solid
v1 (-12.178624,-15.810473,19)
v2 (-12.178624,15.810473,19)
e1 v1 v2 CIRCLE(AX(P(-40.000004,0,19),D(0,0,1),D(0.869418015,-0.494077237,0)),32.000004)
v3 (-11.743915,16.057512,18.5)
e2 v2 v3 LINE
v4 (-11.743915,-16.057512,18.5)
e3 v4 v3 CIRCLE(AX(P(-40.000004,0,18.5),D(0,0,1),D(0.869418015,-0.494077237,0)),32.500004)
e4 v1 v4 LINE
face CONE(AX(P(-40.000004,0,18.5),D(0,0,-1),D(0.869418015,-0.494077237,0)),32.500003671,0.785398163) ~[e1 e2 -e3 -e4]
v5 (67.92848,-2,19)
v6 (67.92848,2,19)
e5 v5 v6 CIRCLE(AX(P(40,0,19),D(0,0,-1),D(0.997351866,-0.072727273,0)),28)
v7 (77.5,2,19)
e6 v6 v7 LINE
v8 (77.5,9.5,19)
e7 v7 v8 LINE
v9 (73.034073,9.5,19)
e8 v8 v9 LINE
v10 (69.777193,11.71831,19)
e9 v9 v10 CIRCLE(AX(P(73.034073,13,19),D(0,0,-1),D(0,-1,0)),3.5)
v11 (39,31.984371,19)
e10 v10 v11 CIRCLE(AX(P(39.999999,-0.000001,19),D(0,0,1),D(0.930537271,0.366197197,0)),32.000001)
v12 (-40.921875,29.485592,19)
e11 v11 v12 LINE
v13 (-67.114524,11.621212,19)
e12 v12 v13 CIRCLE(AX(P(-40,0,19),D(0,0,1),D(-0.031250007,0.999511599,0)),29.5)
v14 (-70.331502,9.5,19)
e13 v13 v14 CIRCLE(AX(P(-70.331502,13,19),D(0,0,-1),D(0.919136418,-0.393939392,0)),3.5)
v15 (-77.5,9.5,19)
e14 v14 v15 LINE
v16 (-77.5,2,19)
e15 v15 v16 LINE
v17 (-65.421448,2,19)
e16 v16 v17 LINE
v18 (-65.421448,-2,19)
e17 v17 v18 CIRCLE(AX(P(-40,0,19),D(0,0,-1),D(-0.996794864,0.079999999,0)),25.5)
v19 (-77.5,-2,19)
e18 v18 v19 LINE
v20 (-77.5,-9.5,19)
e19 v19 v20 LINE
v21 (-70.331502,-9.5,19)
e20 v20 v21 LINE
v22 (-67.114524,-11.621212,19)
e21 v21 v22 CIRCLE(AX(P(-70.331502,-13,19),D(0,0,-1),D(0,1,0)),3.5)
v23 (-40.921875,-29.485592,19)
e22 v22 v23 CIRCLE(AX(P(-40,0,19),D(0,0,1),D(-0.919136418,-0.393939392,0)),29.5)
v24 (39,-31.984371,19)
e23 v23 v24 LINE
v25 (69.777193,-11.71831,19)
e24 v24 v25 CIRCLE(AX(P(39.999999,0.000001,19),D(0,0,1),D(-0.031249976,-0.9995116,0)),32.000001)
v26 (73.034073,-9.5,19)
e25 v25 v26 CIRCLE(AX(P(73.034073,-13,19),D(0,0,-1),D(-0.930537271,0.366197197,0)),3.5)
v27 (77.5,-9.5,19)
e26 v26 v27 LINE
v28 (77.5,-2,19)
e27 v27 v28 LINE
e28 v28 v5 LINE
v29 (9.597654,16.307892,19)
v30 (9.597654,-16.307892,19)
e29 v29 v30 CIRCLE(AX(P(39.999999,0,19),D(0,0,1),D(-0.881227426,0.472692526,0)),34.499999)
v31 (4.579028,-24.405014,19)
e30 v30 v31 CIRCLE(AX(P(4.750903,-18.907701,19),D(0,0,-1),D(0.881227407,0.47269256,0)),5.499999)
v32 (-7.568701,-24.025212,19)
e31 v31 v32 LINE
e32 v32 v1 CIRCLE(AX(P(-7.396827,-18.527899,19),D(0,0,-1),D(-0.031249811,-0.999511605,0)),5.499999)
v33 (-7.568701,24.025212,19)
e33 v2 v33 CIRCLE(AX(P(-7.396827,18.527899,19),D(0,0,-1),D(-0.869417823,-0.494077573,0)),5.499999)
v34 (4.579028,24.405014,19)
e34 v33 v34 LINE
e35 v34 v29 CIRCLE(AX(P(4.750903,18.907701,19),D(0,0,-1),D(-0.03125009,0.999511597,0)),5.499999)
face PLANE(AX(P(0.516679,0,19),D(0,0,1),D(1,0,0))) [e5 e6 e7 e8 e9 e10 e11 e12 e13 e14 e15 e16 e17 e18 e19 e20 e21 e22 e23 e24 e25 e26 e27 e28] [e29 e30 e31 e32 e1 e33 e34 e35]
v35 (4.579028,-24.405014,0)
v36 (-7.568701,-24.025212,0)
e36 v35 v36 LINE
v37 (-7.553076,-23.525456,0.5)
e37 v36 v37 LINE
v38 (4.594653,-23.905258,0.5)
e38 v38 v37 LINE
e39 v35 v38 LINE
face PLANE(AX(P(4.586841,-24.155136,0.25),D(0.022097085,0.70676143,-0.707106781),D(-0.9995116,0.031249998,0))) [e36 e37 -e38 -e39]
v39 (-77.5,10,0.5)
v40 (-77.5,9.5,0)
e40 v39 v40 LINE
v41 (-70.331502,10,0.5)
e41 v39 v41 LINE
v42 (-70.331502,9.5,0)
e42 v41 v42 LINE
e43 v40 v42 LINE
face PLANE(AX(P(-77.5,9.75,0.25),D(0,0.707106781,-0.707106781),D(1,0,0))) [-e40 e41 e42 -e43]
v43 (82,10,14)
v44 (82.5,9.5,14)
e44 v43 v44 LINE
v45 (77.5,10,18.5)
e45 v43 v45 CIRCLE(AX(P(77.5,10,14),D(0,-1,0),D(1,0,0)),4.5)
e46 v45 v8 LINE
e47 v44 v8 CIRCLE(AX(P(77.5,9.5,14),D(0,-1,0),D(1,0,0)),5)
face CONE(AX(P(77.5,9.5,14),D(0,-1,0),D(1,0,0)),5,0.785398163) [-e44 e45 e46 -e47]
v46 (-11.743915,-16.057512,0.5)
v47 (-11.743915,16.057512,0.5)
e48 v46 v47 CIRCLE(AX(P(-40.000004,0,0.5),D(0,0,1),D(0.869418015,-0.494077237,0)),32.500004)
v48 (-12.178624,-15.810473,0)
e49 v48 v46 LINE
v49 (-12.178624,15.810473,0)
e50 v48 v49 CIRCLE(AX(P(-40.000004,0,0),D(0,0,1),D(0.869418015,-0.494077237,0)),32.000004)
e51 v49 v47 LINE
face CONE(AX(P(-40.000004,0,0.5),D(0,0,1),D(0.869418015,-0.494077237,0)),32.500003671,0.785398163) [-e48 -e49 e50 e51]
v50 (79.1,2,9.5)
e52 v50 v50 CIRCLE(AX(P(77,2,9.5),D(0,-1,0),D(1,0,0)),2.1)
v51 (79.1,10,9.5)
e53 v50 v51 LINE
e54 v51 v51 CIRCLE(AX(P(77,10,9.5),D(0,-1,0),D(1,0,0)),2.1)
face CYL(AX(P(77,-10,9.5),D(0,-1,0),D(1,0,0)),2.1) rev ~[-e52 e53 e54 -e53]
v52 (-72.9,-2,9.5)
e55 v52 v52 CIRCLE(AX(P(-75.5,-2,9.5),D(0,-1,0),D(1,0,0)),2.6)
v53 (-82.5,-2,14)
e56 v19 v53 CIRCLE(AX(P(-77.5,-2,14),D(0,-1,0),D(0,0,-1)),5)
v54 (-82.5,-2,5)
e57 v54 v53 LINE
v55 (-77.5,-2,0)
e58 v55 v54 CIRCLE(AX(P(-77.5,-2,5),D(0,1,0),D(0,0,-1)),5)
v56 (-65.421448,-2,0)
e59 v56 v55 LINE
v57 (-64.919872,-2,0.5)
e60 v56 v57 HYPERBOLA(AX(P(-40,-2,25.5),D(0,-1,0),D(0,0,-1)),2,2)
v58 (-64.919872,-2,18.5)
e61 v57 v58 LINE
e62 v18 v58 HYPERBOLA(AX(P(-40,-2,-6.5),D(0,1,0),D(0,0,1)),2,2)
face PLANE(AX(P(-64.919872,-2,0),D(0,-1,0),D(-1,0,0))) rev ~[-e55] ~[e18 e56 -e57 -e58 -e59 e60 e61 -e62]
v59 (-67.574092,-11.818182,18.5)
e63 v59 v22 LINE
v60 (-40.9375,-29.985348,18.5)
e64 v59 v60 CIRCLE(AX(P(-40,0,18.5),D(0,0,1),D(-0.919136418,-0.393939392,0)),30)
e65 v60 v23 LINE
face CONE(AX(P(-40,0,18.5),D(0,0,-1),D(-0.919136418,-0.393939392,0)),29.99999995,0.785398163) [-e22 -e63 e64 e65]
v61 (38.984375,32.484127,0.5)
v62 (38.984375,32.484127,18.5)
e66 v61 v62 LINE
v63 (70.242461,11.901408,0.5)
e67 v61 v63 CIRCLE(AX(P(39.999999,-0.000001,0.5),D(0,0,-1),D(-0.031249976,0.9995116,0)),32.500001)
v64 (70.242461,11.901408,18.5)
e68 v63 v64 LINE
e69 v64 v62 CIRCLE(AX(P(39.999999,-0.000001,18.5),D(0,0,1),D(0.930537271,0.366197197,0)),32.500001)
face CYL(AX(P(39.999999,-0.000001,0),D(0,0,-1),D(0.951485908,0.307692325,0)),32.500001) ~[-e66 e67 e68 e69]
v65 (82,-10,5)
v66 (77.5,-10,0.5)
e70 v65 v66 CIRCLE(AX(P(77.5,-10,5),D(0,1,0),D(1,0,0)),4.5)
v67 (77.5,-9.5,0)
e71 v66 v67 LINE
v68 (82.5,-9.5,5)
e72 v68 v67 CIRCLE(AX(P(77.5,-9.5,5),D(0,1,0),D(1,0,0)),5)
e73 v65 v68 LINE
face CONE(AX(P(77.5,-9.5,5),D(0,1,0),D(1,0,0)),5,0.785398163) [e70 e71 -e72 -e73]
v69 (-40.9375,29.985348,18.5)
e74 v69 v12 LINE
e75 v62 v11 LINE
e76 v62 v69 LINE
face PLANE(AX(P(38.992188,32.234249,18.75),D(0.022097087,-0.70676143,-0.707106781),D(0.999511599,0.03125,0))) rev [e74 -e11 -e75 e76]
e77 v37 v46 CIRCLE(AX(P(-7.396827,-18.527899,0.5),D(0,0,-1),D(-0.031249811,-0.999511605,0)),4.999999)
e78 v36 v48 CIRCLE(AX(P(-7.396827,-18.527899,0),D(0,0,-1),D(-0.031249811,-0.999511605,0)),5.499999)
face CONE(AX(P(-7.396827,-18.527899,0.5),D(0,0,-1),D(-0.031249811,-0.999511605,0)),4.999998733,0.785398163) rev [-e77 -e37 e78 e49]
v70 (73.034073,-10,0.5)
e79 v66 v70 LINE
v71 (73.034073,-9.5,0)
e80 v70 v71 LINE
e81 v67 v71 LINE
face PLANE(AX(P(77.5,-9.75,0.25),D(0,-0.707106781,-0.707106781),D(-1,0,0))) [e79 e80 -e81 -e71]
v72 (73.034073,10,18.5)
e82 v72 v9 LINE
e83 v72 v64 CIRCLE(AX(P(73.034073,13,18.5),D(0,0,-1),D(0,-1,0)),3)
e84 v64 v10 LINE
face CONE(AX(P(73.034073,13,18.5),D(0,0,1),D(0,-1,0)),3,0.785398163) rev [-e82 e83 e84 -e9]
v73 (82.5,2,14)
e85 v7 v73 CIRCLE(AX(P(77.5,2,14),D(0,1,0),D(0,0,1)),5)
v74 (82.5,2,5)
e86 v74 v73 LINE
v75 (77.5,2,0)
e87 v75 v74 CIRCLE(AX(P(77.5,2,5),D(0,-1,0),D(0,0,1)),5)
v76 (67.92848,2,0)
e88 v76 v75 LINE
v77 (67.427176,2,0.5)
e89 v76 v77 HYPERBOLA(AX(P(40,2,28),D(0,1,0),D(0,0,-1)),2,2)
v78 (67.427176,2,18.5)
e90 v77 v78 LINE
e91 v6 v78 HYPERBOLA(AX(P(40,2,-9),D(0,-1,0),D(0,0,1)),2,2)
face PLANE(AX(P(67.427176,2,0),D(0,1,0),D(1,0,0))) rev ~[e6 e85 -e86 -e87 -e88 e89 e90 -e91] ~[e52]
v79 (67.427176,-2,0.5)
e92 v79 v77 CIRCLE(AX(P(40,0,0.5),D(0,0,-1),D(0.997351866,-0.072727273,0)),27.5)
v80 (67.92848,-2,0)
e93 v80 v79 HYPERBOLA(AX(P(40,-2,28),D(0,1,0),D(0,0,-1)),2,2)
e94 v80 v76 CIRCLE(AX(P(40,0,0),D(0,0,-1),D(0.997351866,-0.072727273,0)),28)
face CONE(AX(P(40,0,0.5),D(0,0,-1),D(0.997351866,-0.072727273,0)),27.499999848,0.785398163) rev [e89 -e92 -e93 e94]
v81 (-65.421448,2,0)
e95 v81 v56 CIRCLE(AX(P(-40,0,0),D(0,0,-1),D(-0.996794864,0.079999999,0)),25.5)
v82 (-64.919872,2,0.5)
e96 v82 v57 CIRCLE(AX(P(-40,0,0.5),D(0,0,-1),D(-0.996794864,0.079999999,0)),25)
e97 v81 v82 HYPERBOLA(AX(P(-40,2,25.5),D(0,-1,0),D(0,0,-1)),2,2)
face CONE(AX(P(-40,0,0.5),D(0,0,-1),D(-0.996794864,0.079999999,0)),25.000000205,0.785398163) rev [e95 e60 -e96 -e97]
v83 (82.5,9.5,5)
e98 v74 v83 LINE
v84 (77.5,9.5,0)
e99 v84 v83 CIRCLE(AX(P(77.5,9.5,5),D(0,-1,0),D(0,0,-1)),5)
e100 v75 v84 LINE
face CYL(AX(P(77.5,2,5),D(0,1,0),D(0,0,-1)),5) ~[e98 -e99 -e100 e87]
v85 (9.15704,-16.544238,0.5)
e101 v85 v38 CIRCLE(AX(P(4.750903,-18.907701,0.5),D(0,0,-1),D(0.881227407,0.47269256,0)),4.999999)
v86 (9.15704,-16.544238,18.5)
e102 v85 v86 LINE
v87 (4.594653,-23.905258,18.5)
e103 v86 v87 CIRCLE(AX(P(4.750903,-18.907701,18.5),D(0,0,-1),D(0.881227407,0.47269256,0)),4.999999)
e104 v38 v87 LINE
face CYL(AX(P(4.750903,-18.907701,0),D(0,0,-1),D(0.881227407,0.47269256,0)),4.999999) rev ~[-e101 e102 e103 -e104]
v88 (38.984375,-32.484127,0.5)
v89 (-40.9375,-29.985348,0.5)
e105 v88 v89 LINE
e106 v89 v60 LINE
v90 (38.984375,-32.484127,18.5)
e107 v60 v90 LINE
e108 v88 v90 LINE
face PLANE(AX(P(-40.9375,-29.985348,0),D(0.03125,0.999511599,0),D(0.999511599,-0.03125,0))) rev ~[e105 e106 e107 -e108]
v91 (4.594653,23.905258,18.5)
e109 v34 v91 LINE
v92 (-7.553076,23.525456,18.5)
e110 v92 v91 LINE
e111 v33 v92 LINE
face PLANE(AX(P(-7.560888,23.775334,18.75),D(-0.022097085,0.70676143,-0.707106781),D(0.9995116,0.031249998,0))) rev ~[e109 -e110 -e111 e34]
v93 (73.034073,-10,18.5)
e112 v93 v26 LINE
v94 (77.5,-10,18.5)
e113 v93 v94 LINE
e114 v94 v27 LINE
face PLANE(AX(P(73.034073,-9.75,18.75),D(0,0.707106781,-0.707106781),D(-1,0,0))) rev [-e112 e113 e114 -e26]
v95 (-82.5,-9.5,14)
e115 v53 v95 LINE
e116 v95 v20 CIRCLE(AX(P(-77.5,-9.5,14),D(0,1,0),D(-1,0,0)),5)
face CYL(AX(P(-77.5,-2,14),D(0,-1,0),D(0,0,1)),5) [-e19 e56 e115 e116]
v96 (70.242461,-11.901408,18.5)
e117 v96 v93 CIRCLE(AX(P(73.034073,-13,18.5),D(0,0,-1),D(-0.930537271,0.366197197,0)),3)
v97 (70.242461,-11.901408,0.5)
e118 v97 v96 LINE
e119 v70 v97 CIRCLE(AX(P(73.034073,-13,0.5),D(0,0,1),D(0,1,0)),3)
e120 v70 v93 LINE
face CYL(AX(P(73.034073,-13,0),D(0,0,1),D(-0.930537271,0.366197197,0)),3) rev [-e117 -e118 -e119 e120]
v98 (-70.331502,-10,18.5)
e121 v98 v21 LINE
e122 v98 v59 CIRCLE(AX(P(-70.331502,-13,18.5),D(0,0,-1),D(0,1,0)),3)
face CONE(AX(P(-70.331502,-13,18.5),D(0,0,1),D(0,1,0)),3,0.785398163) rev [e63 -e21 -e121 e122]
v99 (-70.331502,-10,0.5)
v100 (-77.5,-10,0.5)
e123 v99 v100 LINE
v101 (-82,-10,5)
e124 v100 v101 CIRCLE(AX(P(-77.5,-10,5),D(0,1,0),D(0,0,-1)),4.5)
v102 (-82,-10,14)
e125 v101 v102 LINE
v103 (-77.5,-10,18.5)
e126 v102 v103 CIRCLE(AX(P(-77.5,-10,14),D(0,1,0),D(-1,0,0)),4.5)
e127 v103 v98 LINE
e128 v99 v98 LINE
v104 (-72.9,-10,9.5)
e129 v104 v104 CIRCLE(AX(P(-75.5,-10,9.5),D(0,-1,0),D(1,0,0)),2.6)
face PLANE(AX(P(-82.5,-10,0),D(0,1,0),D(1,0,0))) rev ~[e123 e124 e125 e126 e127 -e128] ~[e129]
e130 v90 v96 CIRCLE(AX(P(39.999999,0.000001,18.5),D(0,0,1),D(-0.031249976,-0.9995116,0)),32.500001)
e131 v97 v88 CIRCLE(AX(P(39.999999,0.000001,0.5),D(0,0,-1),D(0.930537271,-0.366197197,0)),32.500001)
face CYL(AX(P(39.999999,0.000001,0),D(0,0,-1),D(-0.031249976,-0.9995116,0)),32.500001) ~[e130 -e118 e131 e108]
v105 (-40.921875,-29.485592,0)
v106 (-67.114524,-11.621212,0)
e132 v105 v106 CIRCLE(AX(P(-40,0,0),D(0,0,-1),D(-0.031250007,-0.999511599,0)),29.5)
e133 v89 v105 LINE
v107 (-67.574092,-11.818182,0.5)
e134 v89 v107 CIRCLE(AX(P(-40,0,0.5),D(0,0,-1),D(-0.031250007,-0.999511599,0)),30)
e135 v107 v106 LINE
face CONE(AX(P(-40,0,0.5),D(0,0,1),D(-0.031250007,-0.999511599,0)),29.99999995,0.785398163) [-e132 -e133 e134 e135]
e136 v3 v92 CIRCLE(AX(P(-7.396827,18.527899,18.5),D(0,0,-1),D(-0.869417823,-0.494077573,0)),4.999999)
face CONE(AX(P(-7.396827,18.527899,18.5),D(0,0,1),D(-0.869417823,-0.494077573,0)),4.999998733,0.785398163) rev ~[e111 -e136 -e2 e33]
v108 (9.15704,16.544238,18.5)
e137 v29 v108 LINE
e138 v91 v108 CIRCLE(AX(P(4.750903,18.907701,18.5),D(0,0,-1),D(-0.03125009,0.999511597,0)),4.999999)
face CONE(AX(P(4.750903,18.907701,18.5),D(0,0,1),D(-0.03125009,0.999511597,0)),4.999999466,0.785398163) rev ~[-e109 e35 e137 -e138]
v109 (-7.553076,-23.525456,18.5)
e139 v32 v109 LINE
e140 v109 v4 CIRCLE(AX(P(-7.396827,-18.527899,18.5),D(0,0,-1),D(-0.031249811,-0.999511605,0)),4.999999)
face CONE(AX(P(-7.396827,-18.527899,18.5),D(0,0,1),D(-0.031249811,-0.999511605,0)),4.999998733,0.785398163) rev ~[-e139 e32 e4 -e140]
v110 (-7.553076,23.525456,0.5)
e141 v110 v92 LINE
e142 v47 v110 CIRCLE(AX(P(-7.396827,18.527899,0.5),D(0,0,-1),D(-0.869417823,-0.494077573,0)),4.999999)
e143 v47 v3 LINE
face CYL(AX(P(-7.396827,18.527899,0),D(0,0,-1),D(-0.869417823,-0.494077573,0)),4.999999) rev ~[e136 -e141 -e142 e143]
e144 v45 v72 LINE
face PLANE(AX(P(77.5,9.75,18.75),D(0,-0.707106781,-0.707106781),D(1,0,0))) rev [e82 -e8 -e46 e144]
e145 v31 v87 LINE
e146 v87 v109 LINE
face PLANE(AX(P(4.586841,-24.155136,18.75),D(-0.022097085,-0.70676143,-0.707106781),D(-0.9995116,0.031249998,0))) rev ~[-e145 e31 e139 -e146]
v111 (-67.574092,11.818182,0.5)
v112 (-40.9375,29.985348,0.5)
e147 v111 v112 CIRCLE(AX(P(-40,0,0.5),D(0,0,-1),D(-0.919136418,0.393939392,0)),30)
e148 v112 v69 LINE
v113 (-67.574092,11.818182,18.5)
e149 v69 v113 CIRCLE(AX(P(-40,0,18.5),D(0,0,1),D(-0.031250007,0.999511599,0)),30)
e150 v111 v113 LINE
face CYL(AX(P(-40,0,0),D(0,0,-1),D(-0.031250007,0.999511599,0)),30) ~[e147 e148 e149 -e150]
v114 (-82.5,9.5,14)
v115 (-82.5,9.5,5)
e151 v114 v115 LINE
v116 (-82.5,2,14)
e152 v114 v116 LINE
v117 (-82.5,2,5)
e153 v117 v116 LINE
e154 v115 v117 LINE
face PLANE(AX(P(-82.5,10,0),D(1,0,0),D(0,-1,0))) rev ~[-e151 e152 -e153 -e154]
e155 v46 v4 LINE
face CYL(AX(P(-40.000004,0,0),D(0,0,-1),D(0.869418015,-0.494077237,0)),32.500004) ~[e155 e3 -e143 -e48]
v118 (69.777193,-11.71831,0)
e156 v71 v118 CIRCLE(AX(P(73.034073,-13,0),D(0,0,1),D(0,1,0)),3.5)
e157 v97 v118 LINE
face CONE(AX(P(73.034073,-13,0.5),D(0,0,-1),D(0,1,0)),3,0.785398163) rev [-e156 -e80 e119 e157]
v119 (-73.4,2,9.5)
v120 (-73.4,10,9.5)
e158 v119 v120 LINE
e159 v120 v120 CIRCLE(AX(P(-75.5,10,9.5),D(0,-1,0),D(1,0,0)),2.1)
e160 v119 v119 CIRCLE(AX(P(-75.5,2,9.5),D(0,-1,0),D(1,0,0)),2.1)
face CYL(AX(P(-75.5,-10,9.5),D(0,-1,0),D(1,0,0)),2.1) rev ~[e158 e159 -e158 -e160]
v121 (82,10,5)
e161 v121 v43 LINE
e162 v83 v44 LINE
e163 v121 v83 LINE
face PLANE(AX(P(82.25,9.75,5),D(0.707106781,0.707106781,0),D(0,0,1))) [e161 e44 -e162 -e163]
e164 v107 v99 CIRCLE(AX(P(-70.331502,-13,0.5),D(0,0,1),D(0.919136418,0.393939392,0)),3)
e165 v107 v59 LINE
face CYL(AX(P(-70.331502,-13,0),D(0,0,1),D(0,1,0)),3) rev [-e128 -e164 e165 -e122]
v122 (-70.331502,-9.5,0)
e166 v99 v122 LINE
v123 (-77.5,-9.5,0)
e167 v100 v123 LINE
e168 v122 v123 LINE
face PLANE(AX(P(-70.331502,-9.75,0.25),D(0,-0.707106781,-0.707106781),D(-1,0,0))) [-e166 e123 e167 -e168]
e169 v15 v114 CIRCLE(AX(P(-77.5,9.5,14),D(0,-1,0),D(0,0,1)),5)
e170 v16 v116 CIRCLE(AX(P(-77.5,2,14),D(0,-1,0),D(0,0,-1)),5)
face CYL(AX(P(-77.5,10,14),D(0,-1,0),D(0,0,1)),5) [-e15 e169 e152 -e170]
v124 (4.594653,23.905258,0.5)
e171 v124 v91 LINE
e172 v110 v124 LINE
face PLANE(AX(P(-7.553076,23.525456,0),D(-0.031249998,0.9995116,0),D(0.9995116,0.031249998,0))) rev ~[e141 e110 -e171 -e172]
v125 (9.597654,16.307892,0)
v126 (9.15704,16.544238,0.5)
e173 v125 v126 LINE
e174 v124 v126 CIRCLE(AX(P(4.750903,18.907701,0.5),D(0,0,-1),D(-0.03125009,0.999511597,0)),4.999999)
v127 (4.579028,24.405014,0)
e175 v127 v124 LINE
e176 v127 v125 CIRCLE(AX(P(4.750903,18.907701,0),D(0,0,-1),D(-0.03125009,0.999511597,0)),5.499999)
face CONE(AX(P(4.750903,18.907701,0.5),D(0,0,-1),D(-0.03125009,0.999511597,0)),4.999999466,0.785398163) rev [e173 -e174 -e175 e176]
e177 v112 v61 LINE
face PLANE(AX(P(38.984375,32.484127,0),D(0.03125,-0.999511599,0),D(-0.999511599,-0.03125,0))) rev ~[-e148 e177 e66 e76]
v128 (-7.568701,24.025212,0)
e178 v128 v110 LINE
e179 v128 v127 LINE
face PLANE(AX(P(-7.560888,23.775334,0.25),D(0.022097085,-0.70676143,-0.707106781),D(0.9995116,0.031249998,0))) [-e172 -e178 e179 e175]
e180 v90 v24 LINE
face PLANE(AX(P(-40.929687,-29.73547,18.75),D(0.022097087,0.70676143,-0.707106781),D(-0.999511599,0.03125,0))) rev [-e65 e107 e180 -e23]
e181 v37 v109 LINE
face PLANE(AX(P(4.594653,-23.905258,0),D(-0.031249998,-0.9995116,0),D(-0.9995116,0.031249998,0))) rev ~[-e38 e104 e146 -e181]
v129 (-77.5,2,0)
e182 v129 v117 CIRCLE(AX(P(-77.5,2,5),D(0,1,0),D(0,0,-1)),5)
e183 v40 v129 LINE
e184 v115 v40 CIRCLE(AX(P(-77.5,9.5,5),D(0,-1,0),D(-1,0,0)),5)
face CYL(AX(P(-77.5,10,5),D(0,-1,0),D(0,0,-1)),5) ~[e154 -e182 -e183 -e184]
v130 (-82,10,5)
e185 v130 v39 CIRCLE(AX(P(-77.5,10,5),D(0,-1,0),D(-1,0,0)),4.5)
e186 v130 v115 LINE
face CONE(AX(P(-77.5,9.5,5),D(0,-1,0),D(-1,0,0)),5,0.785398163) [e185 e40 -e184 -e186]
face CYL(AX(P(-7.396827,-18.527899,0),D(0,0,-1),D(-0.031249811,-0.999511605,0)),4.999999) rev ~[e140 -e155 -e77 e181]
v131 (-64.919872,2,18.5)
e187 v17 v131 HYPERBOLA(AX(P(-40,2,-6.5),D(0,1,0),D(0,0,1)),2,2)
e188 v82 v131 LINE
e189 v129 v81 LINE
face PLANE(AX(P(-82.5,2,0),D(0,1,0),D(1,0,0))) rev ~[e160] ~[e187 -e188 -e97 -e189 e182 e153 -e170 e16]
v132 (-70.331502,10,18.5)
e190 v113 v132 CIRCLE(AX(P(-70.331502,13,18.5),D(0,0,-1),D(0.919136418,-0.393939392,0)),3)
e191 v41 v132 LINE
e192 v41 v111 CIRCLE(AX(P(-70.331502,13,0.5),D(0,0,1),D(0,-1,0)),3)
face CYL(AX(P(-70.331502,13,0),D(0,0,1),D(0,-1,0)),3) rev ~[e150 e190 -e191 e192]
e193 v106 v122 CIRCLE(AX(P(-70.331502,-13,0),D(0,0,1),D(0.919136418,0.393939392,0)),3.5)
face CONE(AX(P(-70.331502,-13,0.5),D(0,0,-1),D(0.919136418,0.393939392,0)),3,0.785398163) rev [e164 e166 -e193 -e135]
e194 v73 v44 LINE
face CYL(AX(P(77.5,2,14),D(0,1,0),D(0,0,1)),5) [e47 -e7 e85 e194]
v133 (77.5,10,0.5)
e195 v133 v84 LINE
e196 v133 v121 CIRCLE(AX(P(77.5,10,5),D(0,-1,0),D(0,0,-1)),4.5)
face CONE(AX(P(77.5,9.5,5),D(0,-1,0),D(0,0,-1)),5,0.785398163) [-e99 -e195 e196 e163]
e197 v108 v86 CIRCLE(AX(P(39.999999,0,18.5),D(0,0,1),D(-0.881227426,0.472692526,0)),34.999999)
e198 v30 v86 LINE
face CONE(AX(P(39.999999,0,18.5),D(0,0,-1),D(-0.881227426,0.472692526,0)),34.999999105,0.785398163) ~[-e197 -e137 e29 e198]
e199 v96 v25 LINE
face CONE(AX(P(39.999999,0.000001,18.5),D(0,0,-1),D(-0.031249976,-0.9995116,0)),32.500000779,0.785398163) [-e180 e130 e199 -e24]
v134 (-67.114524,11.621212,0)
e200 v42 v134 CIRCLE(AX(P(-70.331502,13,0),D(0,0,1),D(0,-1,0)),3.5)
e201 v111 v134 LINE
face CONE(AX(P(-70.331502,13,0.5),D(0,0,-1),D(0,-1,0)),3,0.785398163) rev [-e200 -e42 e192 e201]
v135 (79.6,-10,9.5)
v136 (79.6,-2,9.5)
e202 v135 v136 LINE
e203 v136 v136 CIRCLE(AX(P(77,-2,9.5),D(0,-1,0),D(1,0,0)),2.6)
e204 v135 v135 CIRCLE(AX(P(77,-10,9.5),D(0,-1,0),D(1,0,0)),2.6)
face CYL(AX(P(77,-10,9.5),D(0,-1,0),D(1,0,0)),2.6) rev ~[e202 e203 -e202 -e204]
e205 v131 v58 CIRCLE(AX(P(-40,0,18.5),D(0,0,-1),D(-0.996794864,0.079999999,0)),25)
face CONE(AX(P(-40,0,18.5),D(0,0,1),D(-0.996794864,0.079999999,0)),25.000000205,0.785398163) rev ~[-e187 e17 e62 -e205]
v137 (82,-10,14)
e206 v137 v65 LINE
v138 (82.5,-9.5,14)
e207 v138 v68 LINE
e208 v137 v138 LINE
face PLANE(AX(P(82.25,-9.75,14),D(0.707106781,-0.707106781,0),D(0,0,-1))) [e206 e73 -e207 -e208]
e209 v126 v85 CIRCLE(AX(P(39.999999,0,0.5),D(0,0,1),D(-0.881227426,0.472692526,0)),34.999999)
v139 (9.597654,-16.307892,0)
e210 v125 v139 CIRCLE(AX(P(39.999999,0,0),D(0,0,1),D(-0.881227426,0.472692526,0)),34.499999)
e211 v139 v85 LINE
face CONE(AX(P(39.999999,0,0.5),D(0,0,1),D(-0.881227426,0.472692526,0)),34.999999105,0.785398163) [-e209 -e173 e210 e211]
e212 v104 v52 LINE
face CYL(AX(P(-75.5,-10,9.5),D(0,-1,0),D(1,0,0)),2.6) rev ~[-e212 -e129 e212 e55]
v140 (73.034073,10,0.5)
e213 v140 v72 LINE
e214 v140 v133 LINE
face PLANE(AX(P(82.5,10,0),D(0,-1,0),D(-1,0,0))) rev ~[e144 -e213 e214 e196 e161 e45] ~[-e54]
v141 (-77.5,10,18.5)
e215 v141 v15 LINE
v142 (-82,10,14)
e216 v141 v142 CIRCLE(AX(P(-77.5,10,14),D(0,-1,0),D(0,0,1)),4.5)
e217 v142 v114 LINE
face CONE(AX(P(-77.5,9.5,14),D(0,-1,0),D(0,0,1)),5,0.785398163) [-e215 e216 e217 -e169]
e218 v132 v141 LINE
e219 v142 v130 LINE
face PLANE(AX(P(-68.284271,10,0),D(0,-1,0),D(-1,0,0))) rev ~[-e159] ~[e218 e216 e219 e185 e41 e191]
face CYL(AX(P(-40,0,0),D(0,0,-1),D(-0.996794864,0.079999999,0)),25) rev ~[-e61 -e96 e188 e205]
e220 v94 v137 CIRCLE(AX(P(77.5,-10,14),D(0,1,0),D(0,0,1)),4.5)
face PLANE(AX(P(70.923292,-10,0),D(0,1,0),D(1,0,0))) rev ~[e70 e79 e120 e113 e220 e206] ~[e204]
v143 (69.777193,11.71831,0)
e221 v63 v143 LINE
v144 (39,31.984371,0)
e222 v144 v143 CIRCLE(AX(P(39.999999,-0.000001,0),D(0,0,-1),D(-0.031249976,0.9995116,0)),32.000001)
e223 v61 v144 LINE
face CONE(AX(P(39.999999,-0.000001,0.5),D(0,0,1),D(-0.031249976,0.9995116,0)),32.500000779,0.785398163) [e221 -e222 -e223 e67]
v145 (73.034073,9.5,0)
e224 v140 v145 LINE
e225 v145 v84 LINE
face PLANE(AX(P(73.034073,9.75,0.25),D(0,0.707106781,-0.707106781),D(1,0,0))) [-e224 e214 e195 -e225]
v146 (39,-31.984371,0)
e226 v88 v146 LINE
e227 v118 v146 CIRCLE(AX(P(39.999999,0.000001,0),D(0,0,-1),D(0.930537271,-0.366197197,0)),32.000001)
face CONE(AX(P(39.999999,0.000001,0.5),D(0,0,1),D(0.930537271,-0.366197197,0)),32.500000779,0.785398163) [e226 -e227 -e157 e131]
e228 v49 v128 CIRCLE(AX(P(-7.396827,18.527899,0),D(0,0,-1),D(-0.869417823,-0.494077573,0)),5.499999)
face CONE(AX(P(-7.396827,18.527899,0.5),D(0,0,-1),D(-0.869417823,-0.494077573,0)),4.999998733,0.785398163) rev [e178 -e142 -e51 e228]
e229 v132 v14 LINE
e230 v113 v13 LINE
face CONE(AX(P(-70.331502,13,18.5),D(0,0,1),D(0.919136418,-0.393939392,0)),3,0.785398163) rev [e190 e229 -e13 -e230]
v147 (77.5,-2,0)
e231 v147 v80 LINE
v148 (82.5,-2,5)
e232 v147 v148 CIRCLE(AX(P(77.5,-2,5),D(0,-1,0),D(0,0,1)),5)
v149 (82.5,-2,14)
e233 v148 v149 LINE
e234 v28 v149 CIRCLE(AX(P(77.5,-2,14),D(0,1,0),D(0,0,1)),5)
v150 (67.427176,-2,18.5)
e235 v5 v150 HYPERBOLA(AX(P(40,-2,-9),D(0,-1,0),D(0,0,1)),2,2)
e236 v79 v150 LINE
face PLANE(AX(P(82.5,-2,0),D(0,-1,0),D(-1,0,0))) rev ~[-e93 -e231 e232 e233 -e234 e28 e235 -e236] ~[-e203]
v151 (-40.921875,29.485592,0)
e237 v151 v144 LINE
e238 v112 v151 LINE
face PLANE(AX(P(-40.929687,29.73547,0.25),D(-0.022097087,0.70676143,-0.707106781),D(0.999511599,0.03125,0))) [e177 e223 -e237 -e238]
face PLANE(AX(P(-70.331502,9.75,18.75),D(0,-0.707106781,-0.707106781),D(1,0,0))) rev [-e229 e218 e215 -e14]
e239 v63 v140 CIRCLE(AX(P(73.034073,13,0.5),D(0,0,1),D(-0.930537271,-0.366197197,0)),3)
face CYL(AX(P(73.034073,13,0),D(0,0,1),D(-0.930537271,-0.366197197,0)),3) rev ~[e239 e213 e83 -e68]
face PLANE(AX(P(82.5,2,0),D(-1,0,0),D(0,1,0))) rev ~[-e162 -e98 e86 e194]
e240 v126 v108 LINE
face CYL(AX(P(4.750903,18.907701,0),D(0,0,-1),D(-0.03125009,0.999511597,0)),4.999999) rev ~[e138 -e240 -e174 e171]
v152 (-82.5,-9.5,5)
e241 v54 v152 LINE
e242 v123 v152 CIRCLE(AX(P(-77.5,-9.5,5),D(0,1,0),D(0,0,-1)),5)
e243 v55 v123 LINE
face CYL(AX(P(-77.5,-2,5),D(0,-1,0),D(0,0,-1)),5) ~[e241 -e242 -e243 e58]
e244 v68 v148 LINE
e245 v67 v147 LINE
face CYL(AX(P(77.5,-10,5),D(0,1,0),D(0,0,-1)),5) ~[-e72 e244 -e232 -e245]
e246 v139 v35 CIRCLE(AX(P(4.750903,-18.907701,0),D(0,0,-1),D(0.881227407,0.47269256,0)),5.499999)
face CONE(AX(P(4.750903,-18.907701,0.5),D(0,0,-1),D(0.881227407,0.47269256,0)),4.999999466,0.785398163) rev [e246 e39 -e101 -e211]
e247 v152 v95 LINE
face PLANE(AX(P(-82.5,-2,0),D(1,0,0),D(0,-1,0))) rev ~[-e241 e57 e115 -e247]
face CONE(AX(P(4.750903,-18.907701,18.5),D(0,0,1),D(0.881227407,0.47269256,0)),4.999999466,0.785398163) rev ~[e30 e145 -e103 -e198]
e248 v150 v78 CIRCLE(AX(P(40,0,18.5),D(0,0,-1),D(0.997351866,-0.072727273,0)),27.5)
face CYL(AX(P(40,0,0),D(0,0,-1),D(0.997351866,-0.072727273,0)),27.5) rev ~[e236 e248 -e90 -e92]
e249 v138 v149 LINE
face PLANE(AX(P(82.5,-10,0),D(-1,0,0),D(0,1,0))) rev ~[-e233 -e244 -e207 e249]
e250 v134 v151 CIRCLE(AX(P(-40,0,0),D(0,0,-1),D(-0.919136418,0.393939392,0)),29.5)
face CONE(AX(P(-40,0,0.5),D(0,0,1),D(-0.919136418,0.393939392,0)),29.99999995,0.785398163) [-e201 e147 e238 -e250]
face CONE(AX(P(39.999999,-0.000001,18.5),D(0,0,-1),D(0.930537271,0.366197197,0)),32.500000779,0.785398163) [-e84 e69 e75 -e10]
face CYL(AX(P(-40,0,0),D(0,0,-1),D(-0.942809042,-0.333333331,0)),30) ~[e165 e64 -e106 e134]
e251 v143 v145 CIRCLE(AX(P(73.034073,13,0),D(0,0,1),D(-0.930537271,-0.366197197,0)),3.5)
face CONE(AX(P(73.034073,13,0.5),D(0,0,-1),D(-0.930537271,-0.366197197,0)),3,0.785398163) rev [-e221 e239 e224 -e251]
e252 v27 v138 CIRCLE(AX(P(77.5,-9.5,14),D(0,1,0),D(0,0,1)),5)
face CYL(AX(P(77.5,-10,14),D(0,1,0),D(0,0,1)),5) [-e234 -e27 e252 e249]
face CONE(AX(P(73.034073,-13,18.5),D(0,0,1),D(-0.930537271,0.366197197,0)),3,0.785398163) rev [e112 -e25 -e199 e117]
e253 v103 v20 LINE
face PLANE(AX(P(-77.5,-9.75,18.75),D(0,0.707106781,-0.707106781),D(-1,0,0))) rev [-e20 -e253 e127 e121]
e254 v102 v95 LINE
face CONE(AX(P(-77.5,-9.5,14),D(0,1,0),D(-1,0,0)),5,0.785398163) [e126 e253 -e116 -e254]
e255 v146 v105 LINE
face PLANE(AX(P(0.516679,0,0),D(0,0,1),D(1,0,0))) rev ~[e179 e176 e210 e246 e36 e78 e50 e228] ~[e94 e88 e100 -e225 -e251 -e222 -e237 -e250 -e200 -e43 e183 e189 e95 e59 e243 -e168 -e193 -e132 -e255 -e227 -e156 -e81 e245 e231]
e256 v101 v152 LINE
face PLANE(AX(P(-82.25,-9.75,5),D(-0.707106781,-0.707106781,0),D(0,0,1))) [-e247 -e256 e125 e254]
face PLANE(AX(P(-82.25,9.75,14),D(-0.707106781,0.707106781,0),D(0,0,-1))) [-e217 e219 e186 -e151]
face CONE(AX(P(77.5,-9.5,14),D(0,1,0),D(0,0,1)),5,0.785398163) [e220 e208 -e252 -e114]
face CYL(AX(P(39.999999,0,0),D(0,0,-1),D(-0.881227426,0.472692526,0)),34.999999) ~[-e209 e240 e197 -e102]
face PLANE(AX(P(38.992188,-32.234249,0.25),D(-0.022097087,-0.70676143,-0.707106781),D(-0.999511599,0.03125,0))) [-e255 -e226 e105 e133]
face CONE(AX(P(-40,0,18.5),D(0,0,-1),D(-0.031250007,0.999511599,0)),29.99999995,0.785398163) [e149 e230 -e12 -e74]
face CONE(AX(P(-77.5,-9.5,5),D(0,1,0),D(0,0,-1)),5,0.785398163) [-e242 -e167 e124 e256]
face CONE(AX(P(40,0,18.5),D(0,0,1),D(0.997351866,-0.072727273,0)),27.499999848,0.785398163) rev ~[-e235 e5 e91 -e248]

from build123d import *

# Parameters (mm, degrees)
F1_DEPTH = 19
F2_R     = 2.1
F3_DEPTH = 25
F4_R     = 2.6
F5_DEPTH = 10
F6_R     = 2.6
F7_DEPTH = 10
F8_R     = 5
F9_SIZE  = 0.5
F10_SIZE = 0.5
F11_R    = 3
F12_SIZE = 0.5


with BuildPart() as f1:
    # F0 (on Top) → F1 (new body)
    with BuildSketch(Plane.XY):
        with BuildLine():
            ThreePointArc((-64.919872, 2), (-15, 0), (-64.919872, -2))
            Line((-64.919872, -2), (-82.5, -2))
            Line((-82.5, -2), (-82.5, -10))
            Line((-82.5, -10), (-68.284271, -10))
            ThreePointArc((-68.284271, -10), (-57.701173, -24.22124), (-40.9375, -29.985348))
            Line((-40.9375, -29.985348), (38.984375, -32.484127))
            ThreePointArc((38.984375, -32.484127), (58.708317, -26.575343), (70.923292, -10))
            Line((70.923292, -10), (82.5, -10))
            Line((82.5, -10), (82.5, -2))
            Line((82.5, -2), (67.427176, -2))
            ThreePointArc((67.427176, -2), (12.5, 0), (67.427176, 2))
            Line((67.427176, 2), (82.5, 2))
            Line((82.5, 2), (82.5, 10))
            Line((82.5, 10), (70.923292, 10))
            ThreePointArc((70.923292, 10), (58.708317, 26.575343), (38.984375, 32.484127))
            Line((38.984375, 32.484127), (-40.9375, 29.985348))
            ThreePointArc((-40.9375, 29.985348), (-57.701173, 24.22124), (-68.284271, 10))
            Line((-68.284271, 10), (-82.5, 10))
            Line((-82.5, 10), (-82.5, 2))
            Line((-82.5, 2), (-64.919872, 2))
        make_face()
        with BuildLine():
            ThreePointArc((-7.553076, -23.525456), (-11.757166, -20.974822), (-11.743915, -16.057512))
            ThreePointArc((-11.743915, -16.057512), (-7.5, 0), (-11.743915, 16.057512))
            ThreePointArc((-11.743915, 16.057512), (-11.757166, 20.974822), (-7.553076, 23.525456))
            Line((-7.553076, 23.525456), (4.594653, 23.905258))
            ThreePointArc((4.594653, 23.905258), (9.00079, 21.541796), (9.15704, 16.544238))
            ThreePointArc((9.15704, 16.544238), (5, 0), (9.15704, -16.544238))
            ThreePointArc((9.15704, -16.544238), (9.00079, -21.541796), (4.594653, -23.905258))
            Line((4.594653, -23.905258), (-7.553076, -23.525456))
        make_face(mode=Mode.SUBTRACT)
    extrude(amount=F1_DEPTH)

    # F2 (on face) → F3 (cut)
    with BuildSketch(Plane.XZ.offset(10)):
        with Locations((-75.5, 9.5)):
            Circle(F2_R)
        with Locations((77, 9.5)):
            Circle(F2_R)
    extrude(amount=-F3_DEPTH, mode=Mode.SUBTRACT)

    # F4 (on face) → F5 (cut)
    with BuildSketch(Plane.XZ.offset(10)):
        with Locations((-75.5, 9.5)):
            Circle(F4_R)
    extrude(amount=-F5_DEPTH, mode=Mode.SUBTRACT)

    # F6 (on face) → F7 (cut)
    with BuildSketch(Plane.XZ.offset(10)):
        with Locations((77, 9.5)):
            Circle(F6_R)
    extrude(amount=-F7_DEPTH, mode=Mode.SUBTRACT)

    # F8
    f8_edges = [f1.edges().sort_by_distance(p)[0] for p in [
        (82.5, 6, 19),
        (82.5, -6, 19),
        (82.5, 6, 0),
        (82.5, -6, 0),
        (-82.5, -6, 0),
        (-82.5, -6, 19),
        (-82.5, 6, 19),
        (-82.5, 6, 0),
    ]]
    fillet(f8_edges, radius=F8_R)

    # F9
    f9_edges = [f1.edges().sort_by_distance(p)[0] for p in [
        (-15, 0, 0),
        (12.5, 0, 0),
        (12.5, 0, 19),
        (-15, 0, 19),
    ]]
    chamfer(f9_edges, length=F9_SIZE)

    # F10
    f10_edges = [f1.edges().sort_by_distance(p)[0] for p in [
        (-1.479211, 23.715357, 19),
        (5, 0, 0),
    ]]
    chamfer(f10_edges, length=F10_SIZE)

    # F11
    f11_edges = [f1.edges().sort_by_distance(p)[0] for p in [
        (-68.284271, 10, 9.5),
        (-68.284271, -10, 9.5),
        (70.923292, -10, 9.5),
        (70.923292, 10, 9.5),
    ]]
    fillet(f11_edges, radius=F11_R)

    # F12
    f12_edges = [f1.edges().sort_by_distance(p)[0] for p in [
        (57.873558, 27.143801, 19),
        (57.873558, -27.143801, 19),
    ]]
    chamfer(f12_edges, length=F12_SIZE)


solid = f1.part
